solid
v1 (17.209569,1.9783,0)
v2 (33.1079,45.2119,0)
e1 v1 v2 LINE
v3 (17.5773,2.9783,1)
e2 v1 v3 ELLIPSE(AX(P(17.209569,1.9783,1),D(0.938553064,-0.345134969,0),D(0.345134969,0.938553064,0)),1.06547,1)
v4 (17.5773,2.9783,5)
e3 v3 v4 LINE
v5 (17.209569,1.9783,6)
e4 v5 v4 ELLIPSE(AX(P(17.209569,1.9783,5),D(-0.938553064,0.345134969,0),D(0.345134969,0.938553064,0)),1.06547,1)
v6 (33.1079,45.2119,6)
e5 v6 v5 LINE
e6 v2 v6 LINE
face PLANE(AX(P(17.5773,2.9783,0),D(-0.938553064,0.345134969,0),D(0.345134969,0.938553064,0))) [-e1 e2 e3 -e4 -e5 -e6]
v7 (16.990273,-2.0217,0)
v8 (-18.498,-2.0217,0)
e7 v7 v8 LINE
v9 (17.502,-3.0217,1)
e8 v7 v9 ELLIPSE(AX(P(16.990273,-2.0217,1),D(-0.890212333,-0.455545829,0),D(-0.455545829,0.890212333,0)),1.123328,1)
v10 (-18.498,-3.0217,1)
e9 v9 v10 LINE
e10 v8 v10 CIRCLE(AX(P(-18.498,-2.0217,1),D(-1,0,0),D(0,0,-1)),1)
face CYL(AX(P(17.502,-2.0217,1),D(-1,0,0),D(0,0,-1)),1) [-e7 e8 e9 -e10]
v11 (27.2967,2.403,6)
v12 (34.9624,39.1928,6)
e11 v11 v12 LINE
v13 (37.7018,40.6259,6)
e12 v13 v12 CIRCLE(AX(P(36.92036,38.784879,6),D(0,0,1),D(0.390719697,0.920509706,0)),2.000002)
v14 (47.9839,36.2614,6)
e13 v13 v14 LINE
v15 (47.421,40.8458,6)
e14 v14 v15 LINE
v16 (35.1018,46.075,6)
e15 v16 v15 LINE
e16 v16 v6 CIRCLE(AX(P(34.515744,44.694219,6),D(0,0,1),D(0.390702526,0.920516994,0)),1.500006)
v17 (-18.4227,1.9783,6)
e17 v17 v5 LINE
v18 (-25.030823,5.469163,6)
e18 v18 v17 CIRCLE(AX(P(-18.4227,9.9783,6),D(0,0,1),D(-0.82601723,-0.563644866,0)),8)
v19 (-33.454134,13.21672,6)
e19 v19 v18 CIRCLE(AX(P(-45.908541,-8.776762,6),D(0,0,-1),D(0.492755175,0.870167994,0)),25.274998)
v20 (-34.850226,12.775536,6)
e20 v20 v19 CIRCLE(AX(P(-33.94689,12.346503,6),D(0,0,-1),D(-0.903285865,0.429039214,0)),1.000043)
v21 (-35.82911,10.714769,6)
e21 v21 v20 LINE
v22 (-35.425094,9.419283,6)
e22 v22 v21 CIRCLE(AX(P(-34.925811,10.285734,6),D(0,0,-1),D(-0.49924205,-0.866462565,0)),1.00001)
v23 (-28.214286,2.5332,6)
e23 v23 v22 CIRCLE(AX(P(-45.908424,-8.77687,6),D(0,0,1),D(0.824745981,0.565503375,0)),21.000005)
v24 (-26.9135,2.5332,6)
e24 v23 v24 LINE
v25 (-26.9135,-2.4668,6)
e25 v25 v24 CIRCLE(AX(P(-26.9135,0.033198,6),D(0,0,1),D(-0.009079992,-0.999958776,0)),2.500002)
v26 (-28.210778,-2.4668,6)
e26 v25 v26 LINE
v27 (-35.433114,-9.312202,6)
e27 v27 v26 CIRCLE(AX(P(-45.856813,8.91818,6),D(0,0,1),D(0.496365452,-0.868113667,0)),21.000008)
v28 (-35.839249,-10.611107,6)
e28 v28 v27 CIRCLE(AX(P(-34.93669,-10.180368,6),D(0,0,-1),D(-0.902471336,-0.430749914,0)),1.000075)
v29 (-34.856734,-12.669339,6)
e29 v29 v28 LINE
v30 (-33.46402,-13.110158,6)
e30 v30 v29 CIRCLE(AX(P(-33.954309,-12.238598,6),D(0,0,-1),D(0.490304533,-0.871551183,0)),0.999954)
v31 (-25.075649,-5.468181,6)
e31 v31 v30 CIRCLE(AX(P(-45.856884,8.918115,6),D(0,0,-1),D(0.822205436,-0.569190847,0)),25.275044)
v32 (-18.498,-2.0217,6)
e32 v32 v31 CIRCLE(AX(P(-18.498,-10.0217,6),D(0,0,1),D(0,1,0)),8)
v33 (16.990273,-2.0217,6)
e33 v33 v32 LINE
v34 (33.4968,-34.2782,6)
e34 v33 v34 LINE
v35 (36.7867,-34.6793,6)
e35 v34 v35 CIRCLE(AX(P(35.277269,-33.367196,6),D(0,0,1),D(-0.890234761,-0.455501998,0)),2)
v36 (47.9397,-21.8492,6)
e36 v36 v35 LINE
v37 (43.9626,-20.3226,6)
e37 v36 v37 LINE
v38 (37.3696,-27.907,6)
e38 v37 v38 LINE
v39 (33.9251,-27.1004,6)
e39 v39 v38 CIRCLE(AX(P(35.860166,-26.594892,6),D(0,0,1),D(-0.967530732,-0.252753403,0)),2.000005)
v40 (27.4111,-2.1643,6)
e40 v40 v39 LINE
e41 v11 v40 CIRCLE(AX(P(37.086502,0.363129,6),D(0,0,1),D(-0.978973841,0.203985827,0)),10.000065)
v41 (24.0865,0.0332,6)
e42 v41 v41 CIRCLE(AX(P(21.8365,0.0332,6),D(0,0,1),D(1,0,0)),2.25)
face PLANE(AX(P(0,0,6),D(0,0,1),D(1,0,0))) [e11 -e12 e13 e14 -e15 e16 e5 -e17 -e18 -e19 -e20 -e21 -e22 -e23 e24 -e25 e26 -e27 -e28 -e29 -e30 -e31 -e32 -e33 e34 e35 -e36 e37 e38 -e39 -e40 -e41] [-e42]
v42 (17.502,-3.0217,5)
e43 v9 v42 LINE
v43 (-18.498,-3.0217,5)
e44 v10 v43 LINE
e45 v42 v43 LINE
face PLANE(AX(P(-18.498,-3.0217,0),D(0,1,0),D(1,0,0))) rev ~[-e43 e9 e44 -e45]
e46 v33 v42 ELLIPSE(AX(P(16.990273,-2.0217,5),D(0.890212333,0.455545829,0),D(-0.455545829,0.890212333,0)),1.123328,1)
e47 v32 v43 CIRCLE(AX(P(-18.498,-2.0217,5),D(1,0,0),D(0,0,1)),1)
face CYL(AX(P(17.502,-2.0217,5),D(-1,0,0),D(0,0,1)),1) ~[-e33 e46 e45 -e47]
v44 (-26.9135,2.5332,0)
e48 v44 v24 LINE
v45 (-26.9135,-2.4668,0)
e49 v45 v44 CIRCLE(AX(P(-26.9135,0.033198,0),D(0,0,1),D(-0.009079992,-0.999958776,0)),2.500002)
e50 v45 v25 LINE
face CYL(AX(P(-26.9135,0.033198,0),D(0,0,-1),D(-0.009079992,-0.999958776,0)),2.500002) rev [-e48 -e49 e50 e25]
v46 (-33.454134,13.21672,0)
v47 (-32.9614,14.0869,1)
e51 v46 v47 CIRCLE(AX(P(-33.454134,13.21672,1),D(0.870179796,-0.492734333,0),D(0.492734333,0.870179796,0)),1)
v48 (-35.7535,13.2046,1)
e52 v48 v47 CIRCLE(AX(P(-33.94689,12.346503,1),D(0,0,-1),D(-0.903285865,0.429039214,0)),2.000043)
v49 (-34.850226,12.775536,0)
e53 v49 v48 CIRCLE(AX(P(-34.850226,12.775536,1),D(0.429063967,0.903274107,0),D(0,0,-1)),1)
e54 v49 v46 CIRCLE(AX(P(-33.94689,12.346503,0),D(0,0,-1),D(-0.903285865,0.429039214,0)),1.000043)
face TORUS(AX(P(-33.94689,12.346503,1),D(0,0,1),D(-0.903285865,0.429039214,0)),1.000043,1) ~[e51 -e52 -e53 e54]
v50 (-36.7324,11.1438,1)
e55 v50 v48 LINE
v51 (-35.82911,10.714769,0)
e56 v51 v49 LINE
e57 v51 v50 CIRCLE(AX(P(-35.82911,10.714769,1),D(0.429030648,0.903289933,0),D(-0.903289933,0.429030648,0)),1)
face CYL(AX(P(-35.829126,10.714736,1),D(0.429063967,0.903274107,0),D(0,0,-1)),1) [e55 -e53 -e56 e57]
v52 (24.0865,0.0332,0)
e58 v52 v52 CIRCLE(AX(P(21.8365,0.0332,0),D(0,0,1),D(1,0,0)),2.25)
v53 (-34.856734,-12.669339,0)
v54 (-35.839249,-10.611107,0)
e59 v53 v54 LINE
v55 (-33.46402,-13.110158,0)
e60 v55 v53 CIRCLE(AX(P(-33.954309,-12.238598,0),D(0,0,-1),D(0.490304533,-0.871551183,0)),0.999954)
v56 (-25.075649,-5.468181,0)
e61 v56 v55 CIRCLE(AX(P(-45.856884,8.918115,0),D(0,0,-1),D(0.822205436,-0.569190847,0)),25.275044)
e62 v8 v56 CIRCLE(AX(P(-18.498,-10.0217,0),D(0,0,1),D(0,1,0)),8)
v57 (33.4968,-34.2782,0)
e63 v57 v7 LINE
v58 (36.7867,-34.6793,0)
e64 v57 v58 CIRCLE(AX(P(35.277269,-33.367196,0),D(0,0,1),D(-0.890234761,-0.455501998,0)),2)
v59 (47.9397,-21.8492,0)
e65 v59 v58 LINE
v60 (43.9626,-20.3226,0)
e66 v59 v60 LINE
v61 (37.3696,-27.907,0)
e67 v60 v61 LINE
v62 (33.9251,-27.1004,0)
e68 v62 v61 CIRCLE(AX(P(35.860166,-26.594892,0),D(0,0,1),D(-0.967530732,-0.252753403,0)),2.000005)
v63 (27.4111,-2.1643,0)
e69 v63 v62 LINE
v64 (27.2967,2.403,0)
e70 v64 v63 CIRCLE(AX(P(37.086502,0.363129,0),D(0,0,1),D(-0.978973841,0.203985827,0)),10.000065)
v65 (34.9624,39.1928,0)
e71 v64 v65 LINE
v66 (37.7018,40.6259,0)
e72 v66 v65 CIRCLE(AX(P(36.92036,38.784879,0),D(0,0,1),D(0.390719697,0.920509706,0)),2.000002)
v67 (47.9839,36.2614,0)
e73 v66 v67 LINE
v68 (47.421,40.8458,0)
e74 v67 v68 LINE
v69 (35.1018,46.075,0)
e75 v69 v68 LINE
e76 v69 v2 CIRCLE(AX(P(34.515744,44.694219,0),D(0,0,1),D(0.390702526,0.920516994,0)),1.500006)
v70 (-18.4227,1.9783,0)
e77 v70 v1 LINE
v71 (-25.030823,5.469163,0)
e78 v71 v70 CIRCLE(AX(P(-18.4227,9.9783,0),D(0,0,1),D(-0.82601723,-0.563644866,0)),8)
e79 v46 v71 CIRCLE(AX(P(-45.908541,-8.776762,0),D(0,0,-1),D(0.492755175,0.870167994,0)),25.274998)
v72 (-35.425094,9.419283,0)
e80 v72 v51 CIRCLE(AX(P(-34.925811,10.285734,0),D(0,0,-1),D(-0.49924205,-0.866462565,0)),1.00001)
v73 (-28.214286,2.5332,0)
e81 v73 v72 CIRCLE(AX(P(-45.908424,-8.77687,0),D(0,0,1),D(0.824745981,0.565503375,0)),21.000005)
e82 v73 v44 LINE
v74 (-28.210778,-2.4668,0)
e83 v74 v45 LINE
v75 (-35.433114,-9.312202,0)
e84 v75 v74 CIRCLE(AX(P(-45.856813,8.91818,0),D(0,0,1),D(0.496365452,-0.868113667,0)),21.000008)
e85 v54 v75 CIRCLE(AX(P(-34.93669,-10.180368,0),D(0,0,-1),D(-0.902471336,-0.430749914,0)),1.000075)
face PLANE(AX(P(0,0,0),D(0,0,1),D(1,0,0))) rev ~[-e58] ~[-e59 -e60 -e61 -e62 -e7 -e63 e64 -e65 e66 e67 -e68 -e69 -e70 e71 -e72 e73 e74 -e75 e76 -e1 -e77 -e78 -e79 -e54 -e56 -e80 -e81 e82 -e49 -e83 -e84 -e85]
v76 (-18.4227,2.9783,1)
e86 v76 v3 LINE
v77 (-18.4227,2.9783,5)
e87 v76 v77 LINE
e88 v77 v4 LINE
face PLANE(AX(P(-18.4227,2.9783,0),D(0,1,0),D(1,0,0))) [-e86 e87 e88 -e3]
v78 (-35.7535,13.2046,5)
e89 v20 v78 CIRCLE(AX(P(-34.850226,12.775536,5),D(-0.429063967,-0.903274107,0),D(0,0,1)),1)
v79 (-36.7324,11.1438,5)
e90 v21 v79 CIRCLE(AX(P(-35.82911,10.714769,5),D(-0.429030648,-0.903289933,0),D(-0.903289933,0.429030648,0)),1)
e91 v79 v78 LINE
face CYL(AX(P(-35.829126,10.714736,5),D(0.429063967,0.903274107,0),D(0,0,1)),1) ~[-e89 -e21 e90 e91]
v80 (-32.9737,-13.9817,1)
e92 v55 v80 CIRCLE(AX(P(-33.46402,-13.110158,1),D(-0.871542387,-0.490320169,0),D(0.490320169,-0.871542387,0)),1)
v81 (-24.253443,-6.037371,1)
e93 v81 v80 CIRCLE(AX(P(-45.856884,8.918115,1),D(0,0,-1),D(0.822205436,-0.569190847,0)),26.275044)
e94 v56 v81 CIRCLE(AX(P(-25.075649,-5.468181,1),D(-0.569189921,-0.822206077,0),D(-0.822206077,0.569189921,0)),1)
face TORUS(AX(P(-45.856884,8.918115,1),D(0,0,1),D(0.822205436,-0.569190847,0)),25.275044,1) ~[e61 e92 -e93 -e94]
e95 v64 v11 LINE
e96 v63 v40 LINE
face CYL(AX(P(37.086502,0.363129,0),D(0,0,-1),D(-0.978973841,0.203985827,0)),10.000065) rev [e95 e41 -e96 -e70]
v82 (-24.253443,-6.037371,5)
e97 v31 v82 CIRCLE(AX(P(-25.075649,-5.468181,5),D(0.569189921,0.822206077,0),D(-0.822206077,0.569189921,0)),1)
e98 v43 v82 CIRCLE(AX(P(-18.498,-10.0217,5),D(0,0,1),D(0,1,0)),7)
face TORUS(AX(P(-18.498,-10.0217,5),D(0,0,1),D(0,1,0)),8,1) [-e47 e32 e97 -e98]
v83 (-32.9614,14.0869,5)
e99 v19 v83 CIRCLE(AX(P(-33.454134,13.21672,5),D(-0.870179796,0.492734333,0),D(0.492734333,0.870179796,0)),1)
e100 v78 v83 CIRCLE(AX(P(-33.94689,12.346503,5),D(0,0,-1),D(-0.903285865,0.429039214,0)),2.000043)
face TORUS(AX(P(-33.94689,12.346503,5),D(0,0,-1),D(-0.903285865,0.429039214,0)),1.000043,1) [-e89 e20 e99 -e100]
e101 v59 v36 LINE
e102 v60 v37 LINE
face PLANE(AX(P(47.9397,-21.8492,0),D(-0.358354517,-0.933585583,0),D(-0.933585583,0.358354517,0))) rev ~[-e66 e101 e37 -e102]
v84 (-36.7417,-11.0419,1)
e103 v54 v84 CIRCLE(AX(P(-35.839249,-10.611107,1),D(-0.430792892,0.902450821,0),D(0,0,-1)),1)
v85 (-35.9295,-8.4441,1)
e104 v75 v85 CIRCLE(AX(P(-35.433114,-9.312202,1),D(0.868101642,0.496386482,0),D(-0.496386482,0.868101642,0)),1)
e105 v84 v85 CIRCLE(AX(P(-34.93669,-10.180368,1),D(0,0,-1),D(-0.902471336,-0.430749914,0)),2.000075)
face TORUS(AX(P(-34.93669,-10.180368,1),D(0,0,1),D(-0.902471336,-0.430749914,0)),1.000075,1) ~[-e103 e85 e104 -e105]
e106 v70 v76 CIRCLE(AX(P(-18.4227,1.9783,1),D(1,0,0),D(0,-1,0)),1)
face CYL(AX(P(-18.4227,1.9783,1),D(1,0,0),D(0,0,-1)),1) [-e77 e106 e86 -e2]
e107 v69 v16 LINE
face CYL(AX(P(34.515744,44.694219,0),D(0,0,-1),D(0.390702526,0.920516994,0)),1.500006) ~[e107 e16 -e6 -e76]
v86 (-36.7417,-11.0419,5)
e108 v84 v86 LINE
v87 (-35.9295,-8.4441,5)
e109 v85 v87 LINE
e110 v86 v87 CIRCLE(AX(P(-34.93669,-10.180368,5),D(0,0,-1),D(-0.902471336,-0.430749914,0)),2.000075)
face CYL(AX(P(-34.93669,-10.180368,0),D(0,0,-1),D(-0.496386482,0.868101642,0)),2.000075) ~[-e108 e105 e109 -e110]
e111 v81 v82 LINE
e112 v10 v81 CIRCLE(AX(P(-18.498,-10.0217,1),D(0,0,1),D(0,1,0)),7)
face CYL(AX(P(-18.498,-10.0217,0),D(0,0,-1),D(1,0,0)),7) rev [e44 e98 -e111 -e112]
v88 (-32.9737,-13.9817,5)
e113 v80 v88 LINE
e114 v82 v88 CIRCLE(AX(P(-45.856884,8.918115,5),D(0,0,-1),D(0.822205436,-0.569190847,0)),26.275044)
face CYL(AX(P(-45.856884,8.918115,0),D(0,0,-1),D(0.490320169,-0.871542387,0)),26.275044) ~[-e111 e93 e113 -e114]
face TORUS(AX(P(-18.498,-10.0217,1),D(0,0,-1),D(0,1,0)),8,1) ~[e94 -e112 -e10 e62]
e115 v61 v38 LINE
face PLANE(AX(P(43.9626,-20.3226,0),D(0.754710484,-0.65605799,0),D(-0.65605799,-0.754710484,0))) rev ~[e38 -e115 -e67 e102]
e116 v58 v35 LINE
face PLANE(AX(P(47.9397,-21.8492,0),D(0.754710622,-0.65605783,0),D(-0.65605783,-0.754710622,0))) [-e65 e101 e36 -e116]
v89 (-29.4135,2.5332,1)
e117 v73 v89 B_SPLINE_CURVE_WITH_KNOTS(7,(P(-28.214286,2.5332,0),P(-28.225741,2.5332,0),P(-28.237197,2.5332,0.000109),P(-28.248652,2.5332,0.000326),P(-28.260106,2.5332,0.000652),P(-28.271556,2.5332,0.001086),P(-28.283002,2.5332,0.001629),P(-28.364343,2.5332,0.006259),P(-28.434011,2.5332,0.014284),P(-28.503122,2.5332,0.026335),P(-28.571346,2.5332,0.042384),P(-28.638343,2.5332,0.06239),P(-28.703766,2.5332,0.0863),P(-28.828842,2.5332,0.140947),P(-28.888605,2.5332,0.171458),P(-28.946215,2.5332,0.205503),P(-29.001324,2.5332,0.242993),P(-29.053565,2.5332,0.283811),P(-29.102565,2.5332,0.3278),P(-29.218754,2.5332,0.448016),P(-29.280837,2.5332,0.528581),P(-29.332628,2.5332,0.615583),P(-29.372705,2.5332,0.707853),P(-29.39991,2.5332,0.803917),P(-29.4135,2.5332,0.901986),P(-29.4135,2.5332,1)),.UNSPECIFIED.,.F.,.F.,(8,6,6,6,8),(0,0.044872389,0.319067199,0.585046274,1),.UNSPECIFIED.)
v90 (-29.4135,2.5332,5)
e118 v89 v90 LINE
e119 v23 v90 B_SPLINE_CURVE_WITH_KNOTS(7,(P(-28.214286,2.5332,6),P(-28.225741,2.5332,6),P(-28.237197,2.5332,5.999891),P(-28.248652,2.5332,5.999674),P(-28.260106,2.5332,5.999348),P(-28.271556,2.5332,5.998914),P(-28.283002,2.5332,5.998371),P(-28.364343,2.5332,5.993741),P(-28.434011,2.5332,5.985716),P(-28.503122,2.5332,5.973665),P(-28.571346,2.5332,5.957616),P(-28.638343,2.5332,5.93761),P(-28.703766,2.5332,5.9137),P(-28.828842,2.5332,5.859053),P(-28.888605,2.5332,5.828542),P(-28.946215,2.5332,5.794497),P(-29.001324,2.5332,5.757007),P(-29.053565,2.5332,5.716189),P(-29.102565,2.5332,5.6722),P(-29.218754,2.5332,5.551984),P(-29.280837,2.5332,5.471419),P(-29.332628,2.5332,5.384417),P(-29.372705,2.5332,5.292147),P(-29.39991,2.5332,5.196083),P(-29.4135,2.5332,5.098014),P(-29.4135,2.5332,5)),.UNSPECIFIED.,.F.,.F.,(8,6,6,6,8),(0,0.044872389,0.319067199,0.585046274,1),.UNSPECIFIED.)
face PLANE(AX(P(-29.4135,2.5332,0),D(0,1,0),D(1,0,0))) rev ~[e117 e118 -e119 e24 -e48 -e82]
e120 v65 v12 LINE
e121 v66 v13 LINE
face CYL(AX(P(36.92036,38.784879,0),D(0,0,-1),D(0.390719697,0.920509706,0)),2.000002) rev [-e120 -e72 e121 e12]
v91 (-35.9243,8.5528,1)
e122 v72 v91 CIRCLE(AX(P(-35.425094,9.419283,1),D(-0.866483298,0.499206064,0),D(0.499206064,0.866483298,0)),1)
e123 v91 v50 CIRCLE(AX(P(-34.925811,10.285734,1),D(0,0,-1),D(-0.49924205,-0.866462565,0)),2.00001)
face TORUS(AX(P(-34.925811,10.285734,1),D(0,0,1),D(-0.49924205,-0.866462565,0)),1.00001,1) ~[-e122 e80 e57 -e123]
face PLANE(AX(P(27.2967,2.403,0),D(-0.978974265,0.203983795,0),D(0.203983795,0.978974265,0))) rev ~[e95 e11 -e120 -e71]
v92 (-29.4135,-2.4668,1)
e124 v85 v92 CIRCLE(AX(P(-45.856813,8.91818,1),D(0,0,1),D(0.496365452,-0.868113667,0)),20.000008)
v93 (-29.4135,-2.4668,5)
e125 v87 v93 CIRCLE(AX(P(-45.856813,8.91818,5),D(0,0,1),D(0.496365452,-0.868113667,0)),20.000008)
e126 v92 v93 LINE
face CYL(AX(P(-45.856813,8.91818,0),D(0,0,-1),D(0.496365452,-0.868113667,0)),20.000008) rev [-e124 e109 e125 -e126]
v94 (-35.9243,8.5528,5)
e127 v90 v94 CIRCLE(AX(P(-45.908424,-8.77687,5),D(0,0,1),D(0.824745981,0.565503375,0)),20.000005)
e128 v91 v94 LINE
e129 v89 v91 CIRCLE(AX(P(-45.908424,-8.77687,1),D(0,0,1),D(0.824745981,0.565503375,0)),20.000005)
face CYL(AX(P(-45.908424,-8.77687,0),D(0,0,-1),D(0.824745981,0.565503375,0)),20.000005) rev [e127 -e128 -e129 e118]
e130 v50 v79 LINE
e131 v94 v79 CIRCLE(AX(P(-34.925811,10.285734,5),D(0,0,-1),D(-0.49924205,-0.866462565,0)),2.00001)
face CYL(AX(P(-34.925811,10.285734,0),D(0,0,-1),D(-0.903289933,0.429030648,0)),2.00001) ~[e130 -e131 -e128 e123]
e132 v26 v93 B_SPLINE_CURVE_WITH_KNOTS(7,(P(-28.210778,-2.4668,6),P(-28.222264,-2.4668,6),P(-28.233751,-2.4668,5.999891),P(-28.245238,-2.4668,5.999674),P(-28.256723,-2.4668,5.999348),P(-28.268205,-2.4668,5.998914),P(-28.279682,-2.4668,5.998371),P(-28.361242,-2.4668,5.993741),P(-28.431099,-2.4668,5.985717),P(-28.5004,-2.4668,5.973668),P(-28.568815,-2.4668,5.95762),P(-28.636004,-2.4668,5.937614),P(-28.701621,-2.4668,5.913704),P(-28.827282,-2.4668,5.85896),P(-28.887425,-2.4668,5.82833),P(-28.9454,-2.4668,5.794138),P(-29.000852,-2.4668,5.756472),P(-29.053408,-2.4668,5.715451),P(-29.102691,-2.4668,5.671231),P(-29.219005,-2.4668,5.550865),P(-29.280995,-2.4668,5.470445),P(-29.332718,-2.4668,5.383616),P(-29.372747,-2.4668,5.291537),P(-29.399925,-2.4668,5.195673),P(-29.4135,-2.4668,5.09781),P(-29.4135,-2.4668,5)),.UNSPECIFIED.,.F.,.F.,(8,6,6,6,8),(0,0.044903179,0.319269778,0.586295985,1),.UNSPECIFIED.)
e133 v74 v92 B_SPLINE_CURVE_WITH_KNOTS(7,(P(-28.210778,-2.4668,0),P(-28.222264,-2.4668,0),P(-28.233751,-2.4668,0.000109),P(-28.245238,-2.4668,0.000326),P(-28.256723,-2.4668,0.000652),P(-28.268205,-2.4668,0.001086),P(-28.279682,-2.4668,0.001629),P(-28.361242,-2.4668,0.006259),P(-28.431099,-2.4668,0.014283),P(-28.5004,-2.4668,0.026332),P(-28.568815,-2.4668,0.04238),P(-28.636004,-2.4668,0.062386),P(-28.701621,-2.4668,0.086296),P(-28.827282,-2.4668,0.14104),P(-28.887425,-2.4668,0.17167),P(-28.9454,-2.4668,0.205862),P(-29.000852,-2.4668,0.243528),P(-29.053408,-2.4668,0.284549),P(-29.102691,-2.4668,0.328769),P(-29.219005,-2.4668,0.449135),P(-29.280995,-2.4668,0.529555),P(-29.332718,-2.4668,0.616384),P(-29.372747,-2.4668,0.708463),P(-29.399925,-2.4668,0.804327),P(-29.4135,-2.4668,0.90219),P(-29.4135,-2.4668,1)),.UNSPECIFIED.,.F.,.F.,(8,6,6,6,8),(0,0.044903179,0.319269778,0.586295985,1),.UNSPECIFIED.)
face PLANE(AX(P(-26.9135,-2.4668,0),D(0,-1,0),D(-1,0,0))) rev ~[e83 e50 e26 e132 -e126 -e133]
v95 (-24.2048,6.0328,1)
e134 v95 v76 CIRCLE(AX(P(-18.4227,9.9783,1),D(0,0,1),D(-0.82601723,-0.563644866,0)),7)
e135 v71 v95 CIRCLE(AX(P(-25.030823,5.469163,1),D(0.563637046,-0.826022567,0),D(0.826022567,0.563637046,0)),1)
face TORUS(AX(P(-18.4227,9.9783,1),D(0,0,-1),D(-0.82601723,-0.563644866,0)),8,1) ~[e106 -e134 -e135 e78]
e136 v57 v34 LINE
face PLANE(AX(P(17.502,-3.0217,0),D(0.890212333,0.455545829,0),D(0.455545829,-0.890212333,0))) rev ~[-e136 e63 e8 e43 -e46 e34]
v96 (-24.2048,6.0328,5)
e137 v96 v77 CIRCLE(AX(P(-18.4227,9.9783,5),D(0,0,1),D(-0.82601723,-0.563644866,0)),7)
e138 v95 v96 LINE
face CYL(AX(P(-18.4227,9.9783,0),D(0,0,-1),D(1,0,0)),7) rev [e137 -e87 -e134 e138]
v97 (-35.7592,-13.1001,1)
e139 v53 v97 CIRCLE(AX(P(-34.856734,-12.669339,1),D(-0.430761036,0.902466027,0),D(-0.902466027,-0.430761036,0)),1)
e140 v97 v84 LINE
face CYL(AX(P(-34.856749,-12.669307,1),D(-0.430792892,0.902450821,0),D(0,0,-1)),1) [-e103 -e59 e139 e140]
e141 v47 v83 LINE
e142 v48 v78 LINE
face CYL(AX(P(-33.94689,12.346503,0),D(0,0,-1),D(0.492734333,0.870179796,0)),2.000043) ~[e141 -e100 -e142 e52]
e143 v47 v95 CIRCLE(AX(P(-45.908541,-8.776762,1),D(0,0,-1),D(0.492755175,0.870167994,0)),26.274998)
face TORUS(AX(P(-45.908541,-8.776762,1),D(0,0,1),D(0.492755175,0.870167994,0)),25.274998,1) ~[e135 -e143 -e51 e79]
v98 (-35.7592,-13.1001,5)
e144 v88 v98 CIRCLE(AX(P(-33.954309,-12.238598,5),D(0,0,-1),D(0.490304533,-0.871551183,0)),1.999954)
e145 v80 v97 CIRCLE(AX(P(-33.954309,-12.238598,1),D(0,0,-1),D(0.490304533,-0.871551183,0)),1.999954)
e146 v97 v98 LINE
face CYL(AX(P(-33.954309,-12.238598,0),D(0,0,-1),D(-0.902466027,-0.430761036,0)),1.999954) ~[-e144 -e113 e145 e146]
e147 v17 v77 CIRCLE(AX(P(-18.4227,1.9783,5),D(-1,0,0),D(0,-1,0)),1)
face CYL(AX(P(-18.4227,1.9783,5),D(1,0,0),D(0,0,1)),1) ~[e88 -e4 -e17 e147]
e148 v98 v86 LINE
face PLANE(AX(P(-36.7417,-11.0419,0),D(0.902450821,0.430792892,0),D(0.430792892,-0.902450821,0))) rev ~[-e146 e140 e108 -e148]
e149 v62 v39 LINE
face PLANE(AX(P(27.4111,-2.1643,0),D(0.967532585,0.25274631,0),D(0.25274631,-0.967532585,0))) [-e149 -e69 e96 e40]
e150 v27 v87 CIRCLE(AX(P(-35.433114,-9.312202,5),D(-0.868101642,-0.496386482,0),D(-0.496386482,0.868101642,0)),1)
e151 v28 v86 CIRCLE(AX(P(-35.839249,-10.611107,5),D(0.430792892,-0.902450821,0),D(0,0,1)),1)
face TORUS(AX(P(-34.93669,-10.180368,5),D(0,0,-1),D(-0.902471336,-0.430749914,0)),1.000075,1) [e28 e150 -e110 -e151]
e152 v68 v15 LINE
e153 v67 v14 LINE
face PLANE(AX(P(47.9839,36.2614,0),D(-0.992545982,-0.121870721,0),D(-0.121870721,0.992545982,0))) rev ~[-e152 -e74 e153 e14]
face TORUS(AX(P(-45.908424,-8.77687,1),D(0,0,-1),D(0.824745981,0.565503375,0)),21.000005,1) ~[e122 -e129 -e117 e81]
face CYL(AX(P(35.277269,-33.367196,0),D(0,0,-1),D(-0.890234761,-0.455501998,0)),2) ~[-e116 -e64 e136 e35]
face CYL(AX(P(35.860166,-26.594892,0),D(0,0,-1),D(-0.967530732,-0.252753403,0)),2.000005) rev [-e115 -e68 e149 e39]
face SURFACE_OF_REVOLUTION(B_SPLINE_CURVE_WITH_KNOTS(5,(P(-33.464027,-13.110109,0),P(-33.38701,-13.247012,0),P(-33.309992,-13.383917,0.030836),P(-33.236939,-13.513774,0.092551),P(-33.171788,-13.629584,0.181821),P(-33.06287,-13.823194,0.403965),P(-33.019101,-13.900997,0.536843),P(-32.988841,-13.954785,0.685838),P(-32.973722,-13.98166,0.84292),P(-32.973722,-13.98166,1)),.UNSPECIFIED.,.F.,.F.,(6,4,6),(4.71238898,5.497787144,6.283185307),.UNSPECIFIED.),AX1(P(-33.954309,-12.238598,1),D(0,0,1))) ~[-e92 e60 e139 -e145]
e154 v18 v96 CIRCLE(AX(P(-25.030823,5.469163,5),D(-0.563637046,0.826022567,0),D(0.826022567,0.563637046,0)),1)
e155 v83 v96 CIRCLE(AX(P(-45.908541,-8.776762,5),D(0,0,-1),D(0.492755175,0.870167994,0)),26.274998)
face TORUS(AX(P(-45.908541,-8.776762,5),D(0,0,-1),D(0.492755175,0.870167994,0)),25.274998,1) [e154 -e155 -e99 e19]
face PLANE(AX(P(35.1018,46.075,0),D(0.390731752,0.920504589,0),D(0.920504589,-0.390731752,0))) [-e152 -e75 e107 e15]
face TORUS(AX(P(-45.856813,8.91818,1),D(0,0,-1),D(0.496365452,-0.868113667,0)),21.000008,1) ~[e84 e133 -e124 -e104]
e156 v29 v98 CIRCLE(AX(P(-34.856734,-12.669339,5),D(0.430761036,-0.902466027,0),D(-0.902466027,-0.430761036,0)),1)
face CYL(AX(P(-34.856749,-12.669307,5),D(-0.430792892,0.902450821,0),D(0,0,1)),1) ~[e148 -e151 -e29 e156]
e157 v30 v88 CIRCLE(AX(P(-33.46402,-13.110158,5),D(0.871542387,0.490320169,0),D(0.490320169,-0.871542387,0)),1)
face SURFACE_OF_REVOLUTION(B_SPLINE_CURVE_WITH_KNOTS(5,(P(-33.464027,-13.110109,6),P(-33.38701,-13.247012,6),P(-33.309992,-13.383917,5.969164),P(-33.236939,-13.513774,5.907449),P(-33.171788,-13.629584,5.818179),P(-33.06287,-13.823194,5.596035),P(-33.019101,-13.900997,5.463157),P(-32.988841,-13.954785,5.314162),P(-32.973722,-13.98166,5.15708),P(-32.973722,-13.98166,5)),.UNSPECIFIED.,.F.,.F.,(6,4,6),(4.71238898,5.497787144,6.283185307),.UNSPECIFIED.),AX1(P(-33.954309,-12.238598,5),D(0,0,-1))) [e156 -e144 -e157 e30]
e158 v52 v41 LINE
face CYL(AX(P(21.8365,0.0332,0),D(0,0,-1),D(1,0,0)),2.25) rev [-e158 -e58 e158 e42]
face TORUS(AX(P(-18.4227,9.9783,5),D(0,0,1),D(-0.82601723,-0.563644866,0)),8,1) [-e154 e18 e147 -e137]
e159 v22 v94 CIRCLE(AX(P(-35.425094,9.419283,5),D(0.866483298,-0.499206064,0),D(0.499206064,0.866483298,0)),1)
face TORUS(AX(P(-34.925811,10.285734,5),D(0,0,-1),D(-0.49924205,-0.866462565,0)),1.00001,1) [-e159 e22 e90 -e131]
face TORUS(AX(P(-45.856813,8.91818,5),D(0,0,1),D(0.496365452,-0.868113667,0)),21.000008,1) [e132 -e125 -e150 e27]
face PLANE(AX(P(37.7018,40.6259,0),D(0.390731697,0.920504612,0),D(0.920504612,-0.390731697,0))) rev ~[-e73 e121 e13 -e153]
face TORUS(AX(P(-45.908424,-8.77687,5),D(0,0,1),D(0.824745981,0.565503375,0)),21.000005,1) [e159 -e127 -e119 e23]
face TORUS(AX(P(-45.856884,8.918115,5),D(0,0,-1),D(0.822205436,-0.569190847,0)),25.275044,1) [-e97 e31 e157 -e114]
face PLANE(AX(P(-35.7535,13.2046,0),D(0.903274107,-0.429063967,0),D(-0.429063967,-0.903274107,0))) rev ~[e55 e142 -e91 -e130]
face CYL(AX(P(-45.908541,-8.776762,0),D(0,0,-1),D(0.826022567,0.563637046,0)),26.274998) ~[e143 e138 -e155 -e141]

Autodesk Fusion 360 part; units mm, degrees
sketch "main" plane through (0, 0, 0) normal (0, 0, 1) x (1, 0, 0)
  circle A0 centre (21.8365, 0.0332) radius 2.25
  line L0 (-29.4135, 2.5332) -> (-26.9135, 2.5332)
  line L1 (-26.9135, -2.4668) -> (-29.4135, -2.4668)
  line L2 (-34.9258, 10.2857) -> (-33.9469, 12.3465) construction
  line L3 (-35.7535, 13.2046) -> (-36.7324, 11.1438)
  arc A1 (-32.9614, 14.0869) -> (-35.7535, 13.2046) centre (-33.9469, 12.3465) ccw
  arc A2 (-36.7324, 11.1438) -> (-35.9243, 8.5528) centre (-34.9258, 10.2857) ccw
  arc A3 (-24.2048, 6.0328) -> (-32.9614, 14.0869) centre (-45.9085, -8.7768) ccw
  line L4 (-36.7417, -11.0419) -> (-35.7592, -13.1001)
  arc A4 (-35.9295, -8.4441) -> (-36.7417, -11.0419) centre (-34.9367, -10.1804) ccw
  arc A5 (-35.7592, -13.1001) -> (-32.8186, -13.8848) centre (-33.9543, -12.2386) ccw
  line L5 (-32.8186, -13.8848) -> (-32.8147, -13.8915) construction
  arc A6 (-35.9295, -8.4441) -> (-29.4135, -2.4668) centre (-45.8569, 8.9181) ccw
  arc A7 (-26.9362, -2.4667) -> (-26.9135, 2.5332) centre (-26.9135, 0.0332) ccw
  arc A8 (-29.4135, 2.5332) -> (-35.9243, 8.5528) centre (-45.9085, -8.7768) ccw
  arc A9 (-26.9361, -2.4668) -> (-26.9362, -2.4667) centre (-45.9085, -8.7768) ccw
  arc A10 (-32.9737, -13.9817) -> (-24.2534, -6.0374) centre (-45.8569, 8.9181) ccw
  circle A11 centre (-18.4227, 9.9783) radius 7
  circle A12 centre (-18.498, -10.0217) radius 7
  line L6 (-18.4227, 2.9783) -> (17.5773, 2.9783)
  line L7 (-18.498, -3.0217) -> (17.502, -3.0217)
  line L8 (17.5773, 2.9783) -> (33.1079, 45.2119)
  line L9 (17.502, -3.0217) -> (33.4968, -34.2782)
  line L10 (47.9397, -21.8492) -> (36.7867, -34.6793)
  arc A13 (33.4968, -34.2782) -> (36.7867, -34.6793) centre (35.2773, -33.3672) ccw
  line L11 (47.9397, -21.8492) -> (43.9626, -20.3226)
  line L12 (43.9626, -20.3226) -> (37.3696, -27.907)
  line L13 (27.4111, -2.1643) -> (33.9251, -27.1004)
  arc A14 (33.9251, -27.1004) -> (37.3696, -27.907) centre (35.8602, -26.5949) ccw
  line L14 (27.2967, 2.403) -> (34.9624, 39.1928)
  arc A15 (27.2967, 2.403) -> (27.4111, -2.1643) centre (37.0865, 0.3632) ccw
  line L15 (37.7018, 40.6259) -> (47.9839, 36.2614)
  arc A16 (37.7018, 40.6259) -> (34.9624, 39.1928) centre (36.9204, 38.7849) ccw
  line L16 (47.9839, 36.2614) -> (47.421, 40.8458)
  line L17 (35.1018, 46.075) -> (47.421, 40.8458)
  arc A17 (35.1018, 46.075) -> (33.1079, 45.2119) centre (34.5157, 44.6942) ccw
  dimension "d1" = 5
  dimension "d3" = 4.5
  dimension "d4" = 2.5
  dimension "d5" = 40
  dimension "d6" = 40
  dimension "d7" = 4
  dimension "d9" = 4
  dimension "d11" = 52.55
  dimension "d12" = 52.55
  dimension "d13" = 4
  dimension "d14" = 4
  dimension "d15" = 14
  dimension "d16" = 14
  dimension "d17" = 20
  dimension "d20" = 110.19
  dimension "d22" = 117.1
  dimension "d25" = 68.1
  dimension "d26" = 2
  dimension "d27" = 17
  dimension "d28" = 4.26
  dimension "d29" = 70
  dimension "d30" = 110
  dimension "d31" = 55.64
  dimension "d32" = 2
  dimension "d33" = 153.59
  dimension "d34" = 10
  dimension "d35" = 78.77
  dimension "d36" = 2
  dimension "d37" = 11.17
  dimension "d38" = 60
  dimension "d39" = 120
  dimension "d40" = 4
  dimension "d41" = 1.5
  dimension "d45" = 48.75
  dimension "d47" = 15.25
  dimension "d48" = 36
  dimension "d49" = 6
extrude "Extrude1" add sketch "main" along normal blind 6 contours L0 L1 L3 A1 A2 A3 A7 A8 A9 A10 A11 A12 L6 L7 L8 L9 L10 A13 L11 L12 L13 A14 L14 A15 L15 A16 L16 L17 A17 | L1 L4 A4 A5 A6 A9 A10 picked at (-28.4657, -7.1435)
fillet "Fillet1" radius 1 28 edges at (-0.4227, 2.9783, 6) (-21.6924, 3.7889, 6) (-28.1213, 10.562, 6) (-34.5495, 14.2536, 6) (-36.2429, 12.1742, 6) (-36.8351, 9.6902, 6) (-32.3311, 5.9083, 6) (-32.337, -5.8201, 6) (-36.8456, -9.5835, 6) (-36.2504, -12.071, 6) (-34.5578, -14.1454, 6) (-28.1619, -10.5052, 6) (-21.7468, -3.8213, 6) (-0.498, -3.0217, 6) (-32.337, -5.8201, 0) (-36.8456, -9.5835, 0) (-36.2504, -12.071, 0) (-34.5578, -14.1454, 0) (-28.1619, -10.5052, 0) (-21.7468, -3.8213, 0) (-0.498, -3.0217, 0) (-0.4227, 2.9783, 0) (-21.6924, 3.7889, 0) (-28.1213, 10.562, 0) (-34.5495, 14.2536, 0) (-36.2429, 12.1742, 0) (-36.8351, 9.6902, 0) (-32.3311, 5.9083, 0)
equation "d47 = 13 mm + 2.25 mm"
